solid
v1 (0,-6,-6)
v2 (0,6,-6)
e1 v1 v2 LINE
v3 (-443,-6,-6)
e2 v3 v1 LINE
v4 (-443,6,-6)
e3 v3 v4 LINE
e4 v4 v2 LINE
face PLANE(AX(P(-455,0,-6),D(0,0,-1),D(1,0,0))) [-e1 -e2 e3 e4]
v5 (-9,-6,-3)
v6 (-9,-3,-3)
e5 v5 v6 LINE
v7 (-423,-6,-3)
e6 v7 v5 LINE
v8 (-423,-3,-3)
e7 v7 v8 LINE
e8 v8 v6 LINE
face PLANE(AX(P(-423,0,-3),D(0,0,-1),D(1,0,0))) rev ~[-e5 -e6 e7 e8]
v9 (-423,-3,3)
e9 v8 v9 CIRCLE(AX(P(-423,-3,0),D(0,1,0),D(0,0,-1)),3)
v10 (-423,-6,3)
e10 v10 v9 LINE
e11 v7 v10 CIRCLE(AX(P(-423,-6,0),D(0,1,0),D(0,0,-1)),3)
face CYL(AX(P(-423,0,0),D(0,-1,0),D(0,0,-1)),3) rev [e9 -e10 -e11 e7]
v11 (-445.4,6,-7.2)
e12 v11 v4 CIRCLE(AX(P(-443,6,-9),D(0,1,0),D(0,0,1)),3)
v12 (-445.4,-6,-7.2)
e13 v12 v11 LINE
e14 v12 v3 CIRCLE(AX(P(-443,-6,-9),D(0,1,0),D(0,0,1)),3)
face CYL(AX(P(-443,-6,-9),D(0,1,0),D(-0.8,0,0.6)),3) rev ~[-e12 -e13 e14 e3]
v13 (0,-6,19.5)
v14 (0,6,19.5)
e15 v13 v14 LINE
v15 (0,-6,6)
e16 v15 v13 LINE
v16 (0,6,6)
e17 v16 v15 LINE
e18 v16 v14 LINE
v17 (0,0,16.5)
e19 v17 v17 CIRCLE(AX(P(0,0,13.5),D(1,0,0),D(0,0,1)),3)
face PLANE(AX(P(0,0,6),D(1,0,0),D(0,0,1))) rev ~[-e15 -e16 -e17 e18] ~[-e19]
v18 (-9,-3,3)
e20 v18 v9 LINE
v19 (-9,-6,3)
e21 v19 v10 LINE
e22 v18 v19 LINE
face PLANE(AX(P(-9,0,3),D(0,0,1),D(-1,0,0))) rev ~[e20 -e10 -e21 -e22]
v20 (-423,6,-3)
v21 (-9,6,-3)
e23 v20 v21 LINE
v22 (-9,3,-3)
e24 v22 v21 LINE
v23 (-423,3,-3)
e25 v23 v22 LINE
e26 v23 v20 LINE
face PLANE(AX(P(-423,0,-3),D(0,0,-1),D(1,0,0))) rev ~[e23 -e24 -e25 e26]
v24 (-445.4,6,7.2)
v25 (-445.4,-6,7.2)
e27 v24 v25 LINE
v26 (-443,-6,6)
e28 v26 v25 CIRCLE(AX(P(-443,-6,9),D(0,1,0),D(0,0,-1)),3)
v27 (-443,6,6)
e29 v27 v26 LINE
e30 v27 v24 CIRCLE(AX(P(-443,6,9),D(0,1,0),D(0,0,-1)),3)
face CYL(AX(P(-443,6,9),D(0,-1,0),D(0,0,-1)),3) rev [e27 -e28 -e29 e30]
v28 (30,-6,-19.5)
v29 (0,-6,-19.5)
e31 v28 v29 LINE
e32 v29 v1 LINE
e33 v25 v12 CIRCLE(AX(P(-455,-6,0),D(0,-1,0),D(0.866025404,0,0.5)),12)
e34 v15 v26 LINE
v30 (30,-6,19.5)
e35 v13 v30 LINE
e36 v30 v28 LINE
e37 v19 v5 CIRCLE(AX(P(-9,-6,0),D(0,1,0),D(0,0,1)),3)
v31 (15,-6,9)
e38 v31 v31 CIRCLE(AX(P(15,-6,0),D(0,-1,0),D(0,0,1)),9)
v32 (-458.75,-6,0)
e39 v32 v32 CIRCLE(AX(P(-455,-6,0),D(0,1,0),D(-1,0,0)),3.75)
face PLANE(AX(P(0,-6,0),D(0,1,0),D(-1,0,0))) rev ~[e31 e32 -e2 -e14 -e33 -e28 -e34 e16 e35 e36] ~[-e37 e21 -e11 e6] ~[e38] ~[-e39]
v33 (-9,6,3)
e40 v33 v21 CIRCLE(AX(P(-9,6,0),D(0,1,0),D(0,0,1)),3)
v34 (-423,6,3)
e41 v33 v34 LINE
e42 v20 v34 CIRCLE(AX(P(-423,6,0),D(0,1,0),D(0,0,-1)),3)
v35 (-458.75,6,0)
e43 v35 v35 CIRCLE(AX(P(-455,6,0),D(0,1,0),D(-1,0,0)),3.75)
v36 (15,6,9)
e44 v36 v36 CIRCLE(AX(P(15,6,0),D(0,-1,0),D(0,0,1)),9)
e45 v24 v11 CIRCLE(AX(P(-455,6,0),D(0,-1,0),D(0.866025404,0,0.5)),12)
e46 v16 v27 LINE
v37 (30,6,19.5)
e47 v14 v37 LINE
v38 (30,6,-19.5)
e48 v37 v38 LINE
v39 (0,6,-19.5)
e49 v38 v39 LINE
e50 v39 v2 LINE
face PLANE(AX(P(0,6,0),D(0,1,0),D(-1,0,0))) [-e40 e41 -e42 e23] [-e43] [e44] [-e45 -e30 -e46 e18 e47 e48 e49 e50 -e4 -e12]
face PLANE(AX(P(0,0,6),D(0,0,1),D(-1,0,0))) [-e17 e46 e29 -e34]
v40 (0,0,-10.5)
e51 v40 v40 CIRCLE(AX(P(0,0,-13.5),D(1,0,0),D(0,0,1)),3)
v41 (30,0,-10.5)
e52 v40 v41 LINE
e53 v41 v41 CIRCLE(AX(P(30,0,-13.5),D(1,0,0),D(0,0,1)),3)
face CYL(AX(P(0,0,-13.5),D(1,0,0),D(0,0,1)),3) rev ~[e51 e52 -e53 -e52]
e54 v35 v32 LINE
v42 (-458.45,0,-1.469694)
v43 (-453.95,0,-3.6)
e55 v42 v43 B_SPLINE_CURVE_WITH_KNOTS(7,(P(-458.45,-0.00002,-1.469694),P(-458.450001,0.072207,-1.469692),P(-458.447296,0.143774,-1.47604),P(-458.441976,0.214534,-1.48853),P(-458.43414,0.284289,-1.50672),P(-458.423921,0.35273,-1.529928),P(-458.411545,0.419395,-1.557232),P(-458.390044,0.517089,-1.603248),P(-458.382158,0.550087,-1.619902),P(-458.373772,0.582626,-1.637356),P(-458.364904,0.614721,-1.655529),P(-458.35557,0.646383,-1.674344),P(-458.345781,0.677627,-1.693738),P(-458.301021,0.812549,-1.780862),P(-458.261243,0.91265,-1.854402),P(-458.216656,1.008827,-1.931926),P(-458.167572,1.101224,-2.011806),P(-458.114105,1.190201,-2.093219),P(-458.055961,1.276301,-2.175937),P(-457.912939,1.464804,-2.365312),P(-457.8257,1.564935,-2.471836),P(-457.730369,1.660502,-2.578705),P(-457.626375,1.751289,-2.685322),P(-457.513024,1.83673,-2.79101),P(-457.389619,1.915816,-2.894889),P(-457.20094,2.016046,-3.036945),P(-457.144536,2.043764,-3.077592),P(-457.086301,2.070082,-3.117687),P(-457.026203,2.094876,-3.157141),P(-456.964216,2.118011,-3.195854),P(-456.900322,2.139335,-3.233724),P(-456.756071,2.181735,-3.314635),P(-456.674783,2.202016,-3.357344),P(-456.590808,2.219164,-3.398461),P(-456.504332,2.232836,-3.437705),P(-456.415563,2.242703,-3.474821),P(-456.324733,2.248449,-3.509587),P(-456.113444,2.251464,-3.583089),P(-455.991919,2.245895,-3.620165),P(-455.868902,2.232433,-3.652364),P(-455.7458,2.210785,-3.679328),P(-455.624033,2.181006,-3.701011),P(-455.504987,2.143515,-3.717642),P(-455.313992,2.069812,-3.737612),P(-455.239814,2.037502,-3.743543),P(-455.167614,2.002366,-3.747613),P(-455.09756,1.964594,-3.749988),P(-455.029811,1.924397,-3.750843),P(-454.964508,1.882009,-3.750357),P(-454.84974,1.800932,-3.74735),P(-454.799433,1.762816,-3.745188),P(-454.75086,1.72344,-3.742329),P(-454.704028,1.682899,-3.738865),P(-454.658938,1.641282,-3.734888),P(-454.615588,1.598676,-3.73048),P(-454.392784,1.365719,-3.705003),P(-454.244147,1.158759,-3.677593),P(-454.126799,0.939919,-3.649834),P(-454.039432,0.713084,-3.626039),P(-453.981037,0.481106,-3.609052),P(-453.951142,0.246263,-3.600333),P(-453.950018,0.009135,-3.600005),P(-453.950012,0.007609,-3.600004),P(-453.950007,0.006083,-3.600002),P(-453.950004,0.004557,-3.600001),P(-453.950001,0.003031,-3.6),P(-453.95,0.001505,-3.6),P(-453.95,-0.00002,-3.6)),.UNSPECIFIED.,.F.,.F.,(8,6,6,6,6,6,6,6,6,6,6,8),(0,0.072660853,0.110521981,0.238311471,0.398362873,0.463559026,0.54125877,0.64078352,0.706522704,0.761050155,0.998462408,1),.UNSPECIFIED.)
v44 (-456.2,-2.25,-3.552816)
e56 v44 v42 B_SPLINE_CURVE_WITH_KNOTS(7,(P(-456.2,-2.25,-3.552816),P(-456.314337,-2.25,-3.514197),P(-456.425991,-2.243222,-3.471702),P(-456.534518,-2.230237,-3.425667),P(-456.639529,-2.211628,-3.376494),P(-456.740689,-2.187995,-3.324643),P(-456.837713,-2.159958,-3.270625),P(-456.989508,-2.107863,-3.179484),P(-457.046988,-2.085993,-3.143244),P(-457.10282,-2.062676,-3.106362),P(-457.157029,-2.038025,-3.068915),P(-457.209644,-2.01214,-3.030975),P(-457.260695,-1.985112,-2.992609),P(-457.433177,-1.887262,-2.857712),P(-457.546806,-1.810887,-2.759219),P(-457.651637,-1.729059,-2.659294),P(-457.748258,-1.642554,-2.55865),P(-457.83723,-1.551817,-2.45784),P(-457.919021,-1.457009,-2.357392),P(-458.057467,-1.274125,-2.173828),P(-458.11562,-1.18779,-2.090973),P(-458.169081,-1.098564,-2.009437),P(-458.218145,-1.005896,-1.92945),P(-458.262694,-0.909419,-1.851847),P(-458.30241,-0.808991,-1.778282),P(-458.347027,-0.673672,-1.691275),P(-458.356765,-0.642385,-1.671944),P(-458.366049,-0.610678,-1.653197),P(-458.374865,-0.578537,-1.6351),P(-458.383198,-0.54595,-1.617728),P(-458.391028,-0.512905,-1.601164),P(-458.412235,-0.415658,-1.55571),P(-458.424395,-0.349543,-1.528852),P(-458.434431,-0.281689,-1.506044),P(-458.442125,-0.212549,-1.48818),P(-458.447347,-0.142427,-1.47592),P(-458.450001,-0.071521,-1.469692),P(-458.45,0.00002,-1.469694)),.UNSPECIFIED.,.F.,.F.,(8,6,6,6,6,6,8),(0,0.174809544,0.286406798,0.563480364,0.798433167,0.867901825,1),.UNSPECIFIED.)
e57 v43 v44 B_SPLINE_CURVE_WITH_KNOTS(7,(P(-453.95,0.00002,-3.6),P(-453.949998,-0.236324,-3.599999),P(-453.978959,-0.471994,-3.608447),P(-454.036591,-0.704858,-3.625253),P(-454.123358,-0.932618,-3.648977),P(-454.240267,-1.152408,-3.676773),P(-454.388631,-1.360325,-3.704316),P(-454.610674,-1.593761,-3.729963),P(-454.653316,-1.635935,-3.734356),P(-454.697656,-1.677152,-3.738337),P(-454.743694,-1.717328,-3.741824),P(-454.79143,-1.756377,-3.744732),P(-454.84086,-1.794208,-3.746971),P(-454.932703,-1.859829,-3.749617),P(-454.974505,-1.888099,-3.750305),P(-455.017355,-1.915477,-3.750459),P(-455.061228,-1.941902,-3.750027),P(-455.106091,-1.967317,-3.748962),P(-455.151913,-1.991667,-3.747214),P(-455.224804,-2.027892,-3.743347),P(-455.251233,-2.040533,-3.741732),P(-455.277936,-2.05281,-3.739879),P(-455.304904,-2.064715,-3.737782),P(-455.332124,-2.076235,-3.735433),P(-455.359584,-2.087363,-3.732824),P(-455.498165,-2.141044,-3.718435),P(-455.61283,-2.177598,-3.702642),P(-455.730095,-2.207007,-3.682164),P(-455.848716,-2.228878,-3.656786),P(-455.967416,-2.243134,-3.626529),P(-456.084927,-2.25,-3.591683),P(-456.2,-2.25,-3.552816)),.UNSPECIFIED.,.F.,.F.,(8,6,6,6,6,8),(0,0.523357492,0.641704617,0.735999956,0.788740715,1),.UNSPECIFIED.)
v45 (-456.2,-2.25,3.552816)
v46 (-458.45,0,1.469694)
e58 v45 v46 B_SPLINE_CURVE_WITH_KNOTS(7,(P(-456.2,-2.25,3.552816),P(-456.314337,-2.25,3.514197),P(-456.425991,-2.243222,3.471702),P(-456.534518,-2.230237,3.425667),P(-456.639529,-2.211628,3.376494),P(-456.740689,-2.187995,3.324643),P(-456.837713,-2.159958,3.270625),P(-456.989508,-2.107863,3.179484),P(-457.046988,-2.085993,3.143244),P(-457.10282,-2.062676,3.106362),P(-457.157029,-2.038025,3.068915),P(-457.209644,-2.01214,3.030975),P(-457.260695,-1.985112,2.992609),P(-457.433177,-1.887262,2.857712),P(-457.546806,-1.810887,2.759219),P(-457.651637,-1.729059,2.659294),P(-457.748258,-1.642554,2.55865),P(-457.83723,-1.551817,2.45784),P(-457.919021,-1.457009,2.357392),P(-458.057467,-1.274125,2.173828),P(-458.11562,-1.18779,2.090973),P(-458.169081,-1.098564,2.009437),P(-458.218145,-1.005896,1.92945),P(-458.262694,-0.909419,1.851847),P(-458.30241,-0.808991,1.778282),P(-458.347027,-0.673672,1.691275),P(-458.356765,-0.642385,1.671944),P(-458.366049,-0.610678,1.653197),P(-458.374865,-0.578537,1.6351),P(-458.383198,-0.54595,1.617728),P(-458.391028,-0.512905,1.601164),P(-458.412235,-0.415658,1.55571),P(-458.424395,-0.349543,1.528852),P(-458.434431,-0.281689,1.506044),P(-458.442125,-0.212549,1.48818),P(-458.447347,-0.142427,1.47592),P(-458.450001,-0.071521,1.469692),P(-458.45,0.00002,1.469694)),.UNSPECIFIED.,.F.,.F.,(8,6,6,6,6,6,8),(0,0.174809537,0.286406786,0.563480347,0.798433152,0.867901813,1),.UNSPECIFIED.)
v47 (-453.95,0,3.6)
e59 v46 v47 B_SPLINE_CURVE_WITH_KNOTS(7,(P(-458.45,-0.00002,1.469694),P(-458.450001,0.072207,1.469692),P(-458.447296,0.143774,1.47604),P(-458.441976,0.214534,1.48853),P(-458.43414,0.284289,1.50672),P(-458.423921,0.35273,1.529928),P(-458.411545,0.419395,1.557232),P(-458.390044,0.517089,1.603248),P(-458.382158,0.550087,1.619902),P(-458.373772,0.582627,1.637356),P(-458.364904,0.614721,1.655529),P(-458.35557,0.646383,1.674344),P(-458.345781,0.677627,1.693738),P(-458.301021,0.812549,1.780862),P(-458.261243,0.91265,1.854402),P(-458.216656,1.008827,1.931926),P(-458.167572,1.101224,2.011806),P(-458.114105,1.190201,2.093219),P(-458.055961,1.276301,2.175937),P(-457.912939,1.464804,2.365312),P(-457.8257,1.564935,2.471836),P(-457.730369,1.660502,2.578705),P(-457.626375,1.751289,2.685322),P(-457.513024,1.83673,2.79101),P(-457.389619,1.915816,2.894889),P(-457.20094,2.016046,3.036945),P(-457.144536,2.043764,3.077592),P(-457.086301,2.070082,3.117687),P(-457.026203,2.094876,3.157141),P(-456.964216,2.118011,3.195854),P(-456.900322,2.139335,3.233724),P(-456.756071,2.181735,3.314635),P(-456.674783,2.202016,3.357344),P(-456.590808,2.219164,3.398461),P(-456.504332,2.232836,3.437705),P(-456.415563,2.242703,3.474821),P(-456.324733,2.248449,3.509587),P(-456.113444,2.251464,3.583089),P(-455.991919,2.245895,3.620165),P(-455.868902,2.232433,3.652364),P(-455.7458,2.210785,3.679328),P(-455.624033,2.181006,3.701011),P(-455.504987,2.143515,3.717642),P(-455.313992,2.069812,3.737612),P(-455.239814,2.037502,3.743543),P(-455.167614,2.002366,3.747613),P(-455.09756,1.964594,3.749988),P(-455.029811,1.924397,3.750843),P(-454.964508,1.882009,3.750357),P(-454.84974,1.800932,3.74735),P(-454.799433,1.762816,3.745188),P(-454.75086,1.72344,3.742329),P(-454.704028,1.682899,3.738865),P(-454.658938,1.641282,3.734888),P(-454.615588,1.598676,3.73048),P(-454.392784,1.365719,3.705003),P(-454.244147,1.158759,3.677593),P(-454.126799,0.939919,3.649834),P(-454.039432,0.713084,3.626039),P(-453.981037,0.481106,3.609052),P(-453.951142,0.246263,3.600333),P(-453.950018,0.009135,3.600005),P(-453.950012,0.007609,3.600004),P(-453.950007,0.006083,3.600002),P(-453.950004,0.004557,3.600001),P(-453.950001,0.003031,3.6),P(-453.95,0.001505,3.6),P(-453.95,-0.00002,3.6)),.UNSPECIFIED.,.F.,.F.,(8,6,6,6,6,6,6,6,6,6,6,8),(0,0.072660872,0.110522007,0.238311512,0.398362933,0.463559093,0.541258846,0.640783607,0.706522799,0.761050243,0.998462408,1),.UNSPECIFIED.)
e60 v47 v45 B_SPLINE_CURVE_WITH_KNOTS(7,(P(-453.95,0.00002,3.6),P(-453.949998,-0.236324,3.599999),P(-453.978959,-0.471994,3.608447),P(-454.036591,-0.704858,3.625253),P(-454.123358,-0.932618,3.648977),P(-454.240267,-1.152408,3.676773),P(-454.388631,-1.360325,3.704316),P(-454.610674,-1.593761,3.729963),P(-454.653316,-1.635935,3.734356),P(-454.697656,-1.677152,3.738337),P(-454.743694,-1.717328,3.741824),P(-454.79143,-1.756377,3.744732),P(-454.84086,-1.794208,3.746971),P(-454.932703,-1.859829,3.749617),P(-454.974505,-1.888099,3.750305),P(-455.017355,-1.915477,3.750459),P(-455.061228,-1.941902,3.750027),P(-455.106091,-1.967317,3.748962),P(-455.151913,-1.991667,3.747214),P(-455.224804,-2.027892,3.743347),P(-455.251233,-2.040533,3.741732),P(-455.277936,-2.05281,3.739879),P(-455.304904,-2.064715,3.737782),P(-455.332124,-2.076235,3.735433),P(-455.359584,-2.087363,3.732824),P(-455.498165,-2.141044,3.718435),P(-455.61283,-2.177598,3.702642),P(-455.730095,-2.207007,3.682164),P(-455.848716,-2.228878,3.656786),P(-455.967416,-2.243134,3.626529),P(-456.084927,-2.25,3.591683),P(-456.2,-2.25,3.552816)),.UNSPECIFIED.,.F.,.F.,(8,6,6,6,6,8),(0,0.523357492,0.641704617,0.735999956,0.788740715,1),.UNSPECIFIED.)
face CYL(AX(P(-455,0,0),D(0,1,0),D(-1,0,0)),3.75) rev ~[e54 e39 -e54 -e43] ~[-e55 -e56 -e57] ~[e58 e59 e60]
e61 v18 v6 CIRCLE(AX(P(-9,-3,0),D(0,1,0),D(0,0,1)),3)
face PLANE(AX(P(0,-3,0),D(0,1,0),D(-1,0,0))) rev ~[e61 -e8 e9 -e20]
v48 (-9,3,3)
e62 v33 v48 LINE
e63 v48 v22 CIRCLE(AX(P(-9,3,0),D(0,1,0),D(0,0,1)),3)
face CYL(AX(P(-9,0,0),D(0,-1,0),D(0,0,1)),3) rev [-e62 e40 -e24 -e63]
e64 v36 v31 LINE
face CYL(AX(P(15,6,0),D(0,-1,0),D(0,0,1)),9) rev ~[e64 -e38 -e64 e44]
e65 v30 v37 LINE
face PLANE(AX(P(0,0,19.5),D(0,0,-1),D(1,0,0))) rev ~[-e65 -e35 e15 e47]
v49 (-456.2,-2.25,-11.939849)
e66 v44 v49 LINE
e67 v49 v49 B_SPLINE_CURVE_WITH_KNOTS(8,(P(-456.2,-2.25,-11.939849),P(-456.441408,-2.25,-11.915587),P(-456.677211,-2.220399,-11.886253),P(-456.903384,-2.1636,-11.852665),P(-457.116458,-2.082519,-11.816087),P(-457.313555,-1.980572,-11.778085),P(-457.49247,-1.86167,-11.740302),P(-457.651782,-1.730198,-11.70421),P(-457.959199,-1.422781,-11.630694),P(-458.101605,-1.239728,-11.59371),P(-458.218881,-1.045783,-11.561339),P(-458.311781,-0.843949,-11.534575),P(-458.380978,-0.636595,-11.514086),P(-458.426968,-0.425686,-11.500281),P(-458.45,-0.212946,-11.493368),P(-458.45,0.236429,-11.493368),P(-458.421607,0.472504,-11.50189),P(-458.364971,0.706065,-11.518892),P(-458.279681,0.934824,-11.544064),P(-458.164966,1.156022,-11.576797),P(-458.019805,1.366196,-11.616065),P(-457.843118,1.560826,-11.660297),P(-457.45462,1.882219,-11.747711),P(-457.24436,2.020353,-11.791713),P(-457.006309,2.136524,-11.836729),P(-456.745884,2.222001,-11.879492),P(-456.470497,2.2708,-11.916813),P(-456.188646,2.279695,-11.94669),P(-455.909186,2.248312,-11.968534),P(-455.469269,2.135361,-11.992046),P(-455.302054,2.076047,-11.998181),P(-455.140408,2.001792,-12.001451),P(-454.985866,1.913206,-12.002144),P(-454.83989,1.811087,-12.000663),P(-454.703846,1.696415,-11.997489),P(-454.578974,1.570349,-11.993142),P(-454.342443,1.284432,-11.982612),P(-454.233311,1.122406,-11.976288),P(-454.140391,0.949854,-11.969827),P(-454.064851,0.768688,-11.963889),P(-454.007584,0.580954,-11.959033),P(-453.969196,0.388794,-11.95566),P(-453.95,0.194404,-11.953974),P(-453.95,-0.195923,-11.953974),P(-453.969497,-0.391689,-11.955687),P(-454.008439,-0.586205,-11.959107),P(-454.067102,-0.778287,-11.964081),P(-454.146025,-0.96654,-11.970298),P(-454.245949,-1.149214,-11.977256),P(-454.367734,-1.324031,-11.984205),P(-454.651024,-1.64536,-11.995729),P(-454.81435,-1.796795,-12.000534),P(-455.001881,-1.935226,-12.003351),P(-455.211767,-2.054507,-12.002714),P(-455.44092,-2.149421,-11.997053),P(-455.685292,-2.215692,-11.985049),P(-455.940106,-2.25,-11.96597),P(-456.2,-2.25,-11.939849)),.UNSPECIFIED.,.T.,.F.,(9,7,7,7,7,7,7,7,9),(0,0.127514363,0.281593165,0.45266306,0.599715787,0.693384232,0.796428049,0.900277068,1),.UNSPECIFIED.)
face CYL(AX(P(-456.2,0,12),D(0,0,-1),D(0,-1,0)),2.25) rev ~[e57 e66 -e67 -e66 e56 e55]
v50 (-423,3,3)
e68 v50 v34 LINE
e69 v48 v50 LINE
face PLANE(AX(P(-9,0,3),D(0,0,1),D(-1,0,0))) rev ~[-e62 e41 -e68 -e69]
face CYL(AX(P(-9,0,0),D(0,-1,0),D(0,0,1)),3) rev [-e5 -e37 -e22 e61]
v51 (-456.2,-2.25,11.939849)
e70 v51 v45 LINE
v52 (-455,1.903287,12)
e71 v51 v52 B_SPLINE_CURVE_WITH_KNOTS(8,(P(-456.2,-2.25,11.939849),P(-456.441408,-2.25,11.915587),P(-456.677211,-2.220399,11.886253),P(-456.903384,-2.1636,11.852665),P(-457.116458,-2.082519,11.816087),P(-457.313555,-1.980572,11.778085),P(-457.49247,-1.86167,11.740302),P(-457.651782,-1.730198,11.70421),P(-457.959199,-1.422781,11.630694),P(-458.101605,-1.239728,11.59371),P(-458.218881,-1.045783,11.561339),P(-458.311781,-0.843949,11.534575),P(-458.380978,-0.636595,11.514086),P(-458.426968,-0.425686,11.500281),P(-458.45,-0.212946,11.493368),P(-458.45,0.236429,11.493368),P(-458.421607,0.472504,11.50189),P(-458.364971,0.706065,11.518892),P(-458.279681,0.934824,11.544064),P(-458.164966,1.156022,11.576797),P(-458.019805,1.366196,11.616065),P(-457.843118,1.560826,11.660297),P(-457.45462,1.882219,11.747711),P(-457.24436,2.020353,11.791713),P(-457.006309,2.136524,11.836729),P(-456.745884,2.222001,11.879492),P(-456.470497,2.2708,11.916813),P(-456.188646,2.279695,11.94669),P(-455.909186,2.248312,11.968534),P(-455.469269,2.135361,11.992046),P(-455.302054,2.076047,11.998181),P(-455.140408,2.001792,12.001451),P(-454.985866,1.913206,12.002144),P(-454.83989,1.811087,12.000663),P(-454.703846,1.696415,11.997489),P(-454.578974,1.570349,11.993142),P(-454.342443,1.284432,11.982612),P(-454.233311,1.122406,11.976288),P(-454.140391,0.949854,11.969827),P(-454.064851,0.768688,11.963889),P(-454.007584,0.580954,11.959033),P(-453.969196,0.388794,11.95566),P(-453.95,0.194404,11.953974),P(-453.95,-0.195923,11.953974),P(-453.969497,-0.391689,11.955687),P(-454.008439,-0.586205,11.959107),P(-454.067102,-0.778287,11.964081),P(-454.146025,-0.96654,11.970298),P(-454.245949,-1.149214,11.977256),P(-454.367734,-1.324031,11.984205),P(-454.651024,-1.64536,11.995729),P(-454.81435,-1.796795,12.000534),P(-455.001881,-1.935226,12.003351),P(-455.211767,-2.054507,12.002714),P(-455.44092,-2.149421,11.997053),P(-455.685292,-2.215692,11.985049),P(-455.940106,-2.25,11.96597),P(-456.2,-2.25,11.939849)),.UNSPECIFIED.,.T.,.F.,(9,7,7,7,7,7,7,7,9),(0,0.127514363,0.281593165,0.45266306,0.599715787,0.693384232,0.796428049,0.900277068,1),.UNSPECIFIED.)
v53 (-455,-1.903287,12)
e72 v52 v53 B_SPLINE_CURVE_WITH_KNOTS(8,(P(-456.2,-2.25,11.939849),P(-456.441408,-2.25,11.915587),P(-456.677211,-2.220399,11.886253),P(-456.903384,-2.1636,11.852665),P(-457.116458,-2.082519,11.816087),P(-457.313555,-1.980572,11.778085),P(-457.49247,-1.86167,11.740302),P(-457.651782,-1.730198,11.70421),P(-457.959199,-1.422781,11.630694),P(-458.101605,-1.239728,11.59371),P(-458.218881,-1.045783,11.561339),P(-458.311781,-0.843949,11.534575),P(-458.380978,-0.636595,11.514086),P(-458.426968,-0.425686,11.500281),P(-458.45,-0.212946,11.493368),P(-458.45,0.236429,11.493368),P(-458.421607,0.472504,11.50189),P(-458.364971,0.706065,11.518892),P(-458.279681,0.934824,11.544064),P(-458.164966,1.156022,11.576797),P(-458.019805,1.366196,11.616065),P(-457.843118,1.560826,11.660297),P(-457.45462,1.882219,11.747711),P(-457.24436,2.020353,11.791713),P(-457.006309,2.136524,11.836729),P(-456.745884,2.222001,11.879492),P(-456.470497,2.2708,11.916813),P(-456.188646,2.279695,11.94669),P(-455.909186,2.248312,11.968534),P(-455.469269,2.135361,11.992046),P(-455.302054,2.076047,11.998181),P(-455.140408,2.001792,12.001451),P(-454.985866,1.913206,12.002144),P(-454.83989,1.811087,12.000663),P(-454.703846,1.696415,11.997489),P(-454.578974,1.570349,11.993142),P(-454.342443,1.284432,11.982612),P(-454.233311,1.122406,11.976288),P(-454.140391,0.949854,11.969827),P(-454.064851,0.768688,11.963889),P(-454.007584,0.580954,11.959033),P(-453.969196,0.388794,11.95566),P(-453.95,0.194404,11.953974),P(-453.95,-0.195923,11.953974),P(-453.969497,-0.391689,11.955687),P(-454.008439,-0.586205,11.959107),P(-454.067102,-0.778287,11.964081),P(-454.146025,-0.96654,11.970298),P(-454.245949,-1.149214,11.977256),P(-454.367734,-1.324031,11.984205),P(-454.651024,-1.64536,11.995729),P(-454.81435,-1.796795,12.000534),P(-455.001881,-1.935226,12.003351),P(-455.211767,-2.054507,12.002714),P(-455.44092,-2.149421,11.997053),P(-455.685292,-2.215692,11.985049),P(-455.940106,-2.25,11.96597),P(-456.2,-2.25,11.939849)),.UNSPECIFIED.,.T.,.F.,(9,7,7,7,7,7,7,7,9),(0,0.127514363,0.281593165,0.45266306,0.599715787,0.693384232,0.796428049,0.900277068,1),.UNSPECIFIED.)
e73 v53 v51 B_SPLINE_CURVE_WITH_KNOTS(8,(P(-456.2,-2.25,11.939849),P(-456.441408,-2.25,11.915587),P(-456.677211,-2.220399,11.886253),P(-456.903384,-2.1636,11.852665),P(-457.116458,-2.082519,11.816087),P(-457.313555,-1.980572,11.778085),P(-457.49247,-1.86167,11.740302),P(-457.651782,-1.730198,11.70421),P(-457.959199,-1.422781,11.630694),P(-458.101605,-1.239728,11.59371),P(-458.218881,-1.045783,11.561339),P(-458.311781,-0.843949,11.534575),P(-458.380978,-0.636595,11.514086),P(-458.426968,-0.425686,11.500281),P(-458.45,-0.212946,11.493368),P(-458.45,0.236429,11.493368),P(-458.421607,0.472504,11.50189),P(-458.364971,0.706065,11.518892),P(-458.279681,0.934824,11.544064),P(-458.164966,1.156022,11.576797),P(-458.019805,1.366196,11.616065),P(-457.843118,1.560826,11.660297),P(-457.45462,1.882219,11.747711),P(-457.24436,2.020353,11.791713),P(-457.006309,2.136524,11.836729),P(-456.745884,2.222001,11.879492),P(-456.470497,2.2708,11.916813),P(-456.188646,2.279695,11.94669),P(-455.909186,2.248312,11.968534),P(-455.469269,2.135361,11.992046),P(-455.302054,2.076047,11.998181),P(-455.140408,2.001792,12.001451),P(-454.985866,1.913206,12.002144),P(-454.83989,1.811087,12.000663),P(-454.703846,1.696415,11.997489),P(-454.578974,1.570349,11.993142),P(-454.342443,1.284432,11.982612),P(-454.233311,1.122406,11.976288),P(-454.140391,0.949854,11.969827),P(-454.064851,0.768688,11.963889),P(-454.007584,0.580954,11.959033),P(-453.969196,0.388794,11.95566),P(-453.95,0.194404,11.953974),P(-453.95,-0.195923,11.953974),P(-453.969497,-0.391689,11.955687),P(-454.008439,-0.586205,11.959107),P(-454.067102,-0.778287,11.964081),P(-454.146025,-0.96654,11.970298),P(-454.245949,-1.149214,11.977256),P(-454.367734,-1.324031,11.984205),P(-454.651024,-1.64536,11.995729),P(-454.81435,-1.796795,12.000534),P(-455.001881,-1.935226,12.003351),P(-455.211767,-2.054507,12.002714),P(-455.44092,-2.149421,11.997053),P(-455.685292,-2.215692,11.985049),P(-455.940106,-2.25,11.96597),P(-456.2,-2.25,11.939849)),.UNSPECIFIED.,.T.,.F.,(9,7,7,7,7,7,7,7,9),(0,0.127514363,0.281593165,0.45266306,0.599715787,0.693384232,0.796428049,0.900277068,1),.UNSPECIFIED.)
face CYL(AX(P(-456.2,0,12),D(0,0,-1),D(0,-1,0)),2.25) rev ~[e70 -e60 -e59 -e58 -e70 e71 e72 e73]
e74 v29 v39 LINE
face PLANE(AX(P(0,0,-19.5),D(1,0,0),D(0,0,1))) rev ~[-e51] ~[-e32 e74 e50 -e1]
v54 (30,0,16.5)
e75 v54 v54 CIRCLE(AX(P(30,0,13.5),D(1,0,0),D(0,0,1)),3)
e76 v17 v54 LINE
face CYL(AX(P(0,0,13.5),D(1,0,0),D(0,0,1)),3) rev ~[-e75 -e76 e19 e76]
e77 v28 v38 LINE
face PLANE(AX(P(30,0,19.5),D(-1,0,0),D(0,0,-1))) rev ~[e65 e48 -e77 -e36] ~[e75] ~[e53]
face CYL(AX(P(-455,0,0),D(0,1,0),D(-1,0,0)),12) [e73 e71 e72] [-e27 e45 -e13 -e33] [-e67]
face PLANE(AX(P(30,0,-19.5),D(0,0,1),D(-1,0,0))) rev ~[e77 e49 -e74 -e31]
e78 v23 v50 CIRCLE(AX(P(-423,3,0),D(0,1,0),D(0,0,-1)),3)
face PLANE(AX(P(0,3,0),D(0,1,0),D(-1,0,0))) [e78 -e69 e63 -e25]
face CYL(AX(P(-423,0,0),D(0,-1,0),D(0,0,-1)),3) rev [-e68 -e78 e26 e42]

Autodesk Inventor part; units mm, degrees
ref_plane "YZ Plane" through (0, 0, 0) normal (1, 0, 0) x (0, 1, 0)
sketch "Skizze1" plane through (0, 0, 0) normal (0, 1, 0) x (-1, 0, 0)
  line L0 (0, 19.5) -> (-30, 19.5)
  line L1 (-30, 19.5) -> (-30, -19.5)
  line L2 (-30, -19.5) -> (0, -19.5)
  line L3 (0, -19.5) -> (0, 19.5)
  line L4 (0, 6) -> (455, 6)
  line L5 (455, 6) -> (455, -6)
  line L6 (455, -6) -> (0, -6)
  line L7 (0, -6) -> (0, 6)
  line L8 (0, 0) -> (-64.3399, 0) construction
  line L9 (9, 0) -> (423, 0) construction
  line L10 (9, 3) -> (423, 3)
  line L11 (423, -3) -> (9, -3)
  arc A0 (9, 3) -> (9, -3) centre (9, 0) ccw
  arc A1 (423, -3) -> (423, 3) centre (423, 0) ccw
  point P0 (455, 0)
  point P1 (-15, -19.5)
  point P2 (216, 0)
  point P3 (6, 0)
  point P4 (426, 0)
  dimension "d0" = 39
  dimension "d1" = 30
  dimension "d2" = 470
  dimension "d3" = 12
  dimension "d4" = 6
  dimension "d5" = 6
  dimension "d6" = 3
  dimension "d27" = 420
extrude "Extrusion1" add sketch "Skizze1" along normal mid plane 12
extrude "Extrusion2" add sketch "Skizze1" along normal blind 3 contours L10 A1 L11 A0
extrude "Extrusion3" add sketch "Skizze1" against normal blind 3 contours L10 A1 L11 A0
sketch "Skizze2" plane through (0, 6, 0) normal (0, 1, 0) x (1, 0, 0)
  line L0 (30, 19.5) -> (0, 19.5) projected
  point P0 (0, 0)
  point P1 (15, 0)
  point P2 (15, 19.5)
hole "Bohrung1" at (15, 6, 0) direction (0, -1, 0) diameter 18 depth 12
ref_plane "Arbeitsebene1" through (0, 0, 0) normal (0, 1, 0) x (-1, 0, 0)
sketch "Skizze4" plane through (0, 0, 0) normal (0, 1, 0) x (-1, 0, 0)
  line L0 (455, 6) -> (455, -6) projected
  circle A0 centre (455, 0) radius 12
  point P0 (0, 0)
  dimension "d24" = 24
extrude "Extrusion4" add sketch "Skizze4" along normal mid plane 12
sketch "Skizze5" plane through (0, 0, 0) normal (0, 1, 0) x (-1, 0, 0)
  circle A0 centre (455, 0) radius 3.75
  arc A1 (444.6077, -6) -> (444.6077, 6) centre (455, 0) ccw projected
  point P0 (0, 0)
  dimension "d28" = 7.5
extrude "Extrusion5" cut sketch "Skizze5" along normal mid plane 12
fillet "Rundung1" radius 3 2 edges at (-444.6077, 0, 6) (-444.6077, 0, -6)
ref_plane "Arbeitsebene2" through (0, 0, 12) normal (0, 0, 1) x (1, 0, 0)
sketch "Skizze6" plane through (0, 0, 12) normal (0, 0, 1) x (1, 0, 0)
  line L0 (-467, -6) -> (-467, 6) projected
  line L1 (-445.4, -6) -> (-445.4, 6) projected
  line L2 (-445.4, -6) -> (-445.4, -6) projected
  line L3 (-445.4, 6) -> (-445.4, -6) projected
  line L4 (-445.4, 6) -> (-445.4, 6) projected
  line L5 (-445.4, 6) -> (-467, 6) projected
  point P0 (0, 0)
  point P1 (-456.2, 0)
  point P2 (-467, 0)
  point P3 (-456.2, 6)
hole "Bohrung2" at (-456.2, 0, 12) direction (0, 0, -1) diameter 4.5 end through all
sketch "Skizze7" plane through (0, -6, 19.5) normal (-1, 0, 0) x (0, 0, 1)
  line L0 (-15.75, 0) -> (-23.25, 0) projected
  line L1 (-25.5, 0) -> (-39, 0) projected
  line L2 (-39, 0) -> (0, 0) projected
  line L3 (0, 0) -> (-13.5, 0) projected
  line L4 (-12.3, 0) -> (-13.5, 0) projected
  line L5 (-12.3, 0) -> (-26.7, 0) projected
  line L6 (-25.5, 0) -> (-26.7, 0) projected
  line L7 (-22.5, 0) -> (-16.5, 0) projected
  line L8 (-16.5, 0) -> (-22.5, 0) projected
  line L9 (-10.5, 0) -> (-28.5, 0) projected
  point P0 (-19.5, 6)
  point P1 (-6, 6)
  point P2 (-33, 6)
  point P3 (-6.75, 0)
  dimension "d48" = 6
  dimension "d50" = 13.5
  dimension "d51" = 13.5
hole "Bohrung3" at (0, 0, 13.5) at (0, 0, -13.5) direction (1, 0, 0) diameter 6 end through all
equation "\"d51\" = d50"
properties part number "pleuel_rad" material "Messing, weicher Gelbton"
